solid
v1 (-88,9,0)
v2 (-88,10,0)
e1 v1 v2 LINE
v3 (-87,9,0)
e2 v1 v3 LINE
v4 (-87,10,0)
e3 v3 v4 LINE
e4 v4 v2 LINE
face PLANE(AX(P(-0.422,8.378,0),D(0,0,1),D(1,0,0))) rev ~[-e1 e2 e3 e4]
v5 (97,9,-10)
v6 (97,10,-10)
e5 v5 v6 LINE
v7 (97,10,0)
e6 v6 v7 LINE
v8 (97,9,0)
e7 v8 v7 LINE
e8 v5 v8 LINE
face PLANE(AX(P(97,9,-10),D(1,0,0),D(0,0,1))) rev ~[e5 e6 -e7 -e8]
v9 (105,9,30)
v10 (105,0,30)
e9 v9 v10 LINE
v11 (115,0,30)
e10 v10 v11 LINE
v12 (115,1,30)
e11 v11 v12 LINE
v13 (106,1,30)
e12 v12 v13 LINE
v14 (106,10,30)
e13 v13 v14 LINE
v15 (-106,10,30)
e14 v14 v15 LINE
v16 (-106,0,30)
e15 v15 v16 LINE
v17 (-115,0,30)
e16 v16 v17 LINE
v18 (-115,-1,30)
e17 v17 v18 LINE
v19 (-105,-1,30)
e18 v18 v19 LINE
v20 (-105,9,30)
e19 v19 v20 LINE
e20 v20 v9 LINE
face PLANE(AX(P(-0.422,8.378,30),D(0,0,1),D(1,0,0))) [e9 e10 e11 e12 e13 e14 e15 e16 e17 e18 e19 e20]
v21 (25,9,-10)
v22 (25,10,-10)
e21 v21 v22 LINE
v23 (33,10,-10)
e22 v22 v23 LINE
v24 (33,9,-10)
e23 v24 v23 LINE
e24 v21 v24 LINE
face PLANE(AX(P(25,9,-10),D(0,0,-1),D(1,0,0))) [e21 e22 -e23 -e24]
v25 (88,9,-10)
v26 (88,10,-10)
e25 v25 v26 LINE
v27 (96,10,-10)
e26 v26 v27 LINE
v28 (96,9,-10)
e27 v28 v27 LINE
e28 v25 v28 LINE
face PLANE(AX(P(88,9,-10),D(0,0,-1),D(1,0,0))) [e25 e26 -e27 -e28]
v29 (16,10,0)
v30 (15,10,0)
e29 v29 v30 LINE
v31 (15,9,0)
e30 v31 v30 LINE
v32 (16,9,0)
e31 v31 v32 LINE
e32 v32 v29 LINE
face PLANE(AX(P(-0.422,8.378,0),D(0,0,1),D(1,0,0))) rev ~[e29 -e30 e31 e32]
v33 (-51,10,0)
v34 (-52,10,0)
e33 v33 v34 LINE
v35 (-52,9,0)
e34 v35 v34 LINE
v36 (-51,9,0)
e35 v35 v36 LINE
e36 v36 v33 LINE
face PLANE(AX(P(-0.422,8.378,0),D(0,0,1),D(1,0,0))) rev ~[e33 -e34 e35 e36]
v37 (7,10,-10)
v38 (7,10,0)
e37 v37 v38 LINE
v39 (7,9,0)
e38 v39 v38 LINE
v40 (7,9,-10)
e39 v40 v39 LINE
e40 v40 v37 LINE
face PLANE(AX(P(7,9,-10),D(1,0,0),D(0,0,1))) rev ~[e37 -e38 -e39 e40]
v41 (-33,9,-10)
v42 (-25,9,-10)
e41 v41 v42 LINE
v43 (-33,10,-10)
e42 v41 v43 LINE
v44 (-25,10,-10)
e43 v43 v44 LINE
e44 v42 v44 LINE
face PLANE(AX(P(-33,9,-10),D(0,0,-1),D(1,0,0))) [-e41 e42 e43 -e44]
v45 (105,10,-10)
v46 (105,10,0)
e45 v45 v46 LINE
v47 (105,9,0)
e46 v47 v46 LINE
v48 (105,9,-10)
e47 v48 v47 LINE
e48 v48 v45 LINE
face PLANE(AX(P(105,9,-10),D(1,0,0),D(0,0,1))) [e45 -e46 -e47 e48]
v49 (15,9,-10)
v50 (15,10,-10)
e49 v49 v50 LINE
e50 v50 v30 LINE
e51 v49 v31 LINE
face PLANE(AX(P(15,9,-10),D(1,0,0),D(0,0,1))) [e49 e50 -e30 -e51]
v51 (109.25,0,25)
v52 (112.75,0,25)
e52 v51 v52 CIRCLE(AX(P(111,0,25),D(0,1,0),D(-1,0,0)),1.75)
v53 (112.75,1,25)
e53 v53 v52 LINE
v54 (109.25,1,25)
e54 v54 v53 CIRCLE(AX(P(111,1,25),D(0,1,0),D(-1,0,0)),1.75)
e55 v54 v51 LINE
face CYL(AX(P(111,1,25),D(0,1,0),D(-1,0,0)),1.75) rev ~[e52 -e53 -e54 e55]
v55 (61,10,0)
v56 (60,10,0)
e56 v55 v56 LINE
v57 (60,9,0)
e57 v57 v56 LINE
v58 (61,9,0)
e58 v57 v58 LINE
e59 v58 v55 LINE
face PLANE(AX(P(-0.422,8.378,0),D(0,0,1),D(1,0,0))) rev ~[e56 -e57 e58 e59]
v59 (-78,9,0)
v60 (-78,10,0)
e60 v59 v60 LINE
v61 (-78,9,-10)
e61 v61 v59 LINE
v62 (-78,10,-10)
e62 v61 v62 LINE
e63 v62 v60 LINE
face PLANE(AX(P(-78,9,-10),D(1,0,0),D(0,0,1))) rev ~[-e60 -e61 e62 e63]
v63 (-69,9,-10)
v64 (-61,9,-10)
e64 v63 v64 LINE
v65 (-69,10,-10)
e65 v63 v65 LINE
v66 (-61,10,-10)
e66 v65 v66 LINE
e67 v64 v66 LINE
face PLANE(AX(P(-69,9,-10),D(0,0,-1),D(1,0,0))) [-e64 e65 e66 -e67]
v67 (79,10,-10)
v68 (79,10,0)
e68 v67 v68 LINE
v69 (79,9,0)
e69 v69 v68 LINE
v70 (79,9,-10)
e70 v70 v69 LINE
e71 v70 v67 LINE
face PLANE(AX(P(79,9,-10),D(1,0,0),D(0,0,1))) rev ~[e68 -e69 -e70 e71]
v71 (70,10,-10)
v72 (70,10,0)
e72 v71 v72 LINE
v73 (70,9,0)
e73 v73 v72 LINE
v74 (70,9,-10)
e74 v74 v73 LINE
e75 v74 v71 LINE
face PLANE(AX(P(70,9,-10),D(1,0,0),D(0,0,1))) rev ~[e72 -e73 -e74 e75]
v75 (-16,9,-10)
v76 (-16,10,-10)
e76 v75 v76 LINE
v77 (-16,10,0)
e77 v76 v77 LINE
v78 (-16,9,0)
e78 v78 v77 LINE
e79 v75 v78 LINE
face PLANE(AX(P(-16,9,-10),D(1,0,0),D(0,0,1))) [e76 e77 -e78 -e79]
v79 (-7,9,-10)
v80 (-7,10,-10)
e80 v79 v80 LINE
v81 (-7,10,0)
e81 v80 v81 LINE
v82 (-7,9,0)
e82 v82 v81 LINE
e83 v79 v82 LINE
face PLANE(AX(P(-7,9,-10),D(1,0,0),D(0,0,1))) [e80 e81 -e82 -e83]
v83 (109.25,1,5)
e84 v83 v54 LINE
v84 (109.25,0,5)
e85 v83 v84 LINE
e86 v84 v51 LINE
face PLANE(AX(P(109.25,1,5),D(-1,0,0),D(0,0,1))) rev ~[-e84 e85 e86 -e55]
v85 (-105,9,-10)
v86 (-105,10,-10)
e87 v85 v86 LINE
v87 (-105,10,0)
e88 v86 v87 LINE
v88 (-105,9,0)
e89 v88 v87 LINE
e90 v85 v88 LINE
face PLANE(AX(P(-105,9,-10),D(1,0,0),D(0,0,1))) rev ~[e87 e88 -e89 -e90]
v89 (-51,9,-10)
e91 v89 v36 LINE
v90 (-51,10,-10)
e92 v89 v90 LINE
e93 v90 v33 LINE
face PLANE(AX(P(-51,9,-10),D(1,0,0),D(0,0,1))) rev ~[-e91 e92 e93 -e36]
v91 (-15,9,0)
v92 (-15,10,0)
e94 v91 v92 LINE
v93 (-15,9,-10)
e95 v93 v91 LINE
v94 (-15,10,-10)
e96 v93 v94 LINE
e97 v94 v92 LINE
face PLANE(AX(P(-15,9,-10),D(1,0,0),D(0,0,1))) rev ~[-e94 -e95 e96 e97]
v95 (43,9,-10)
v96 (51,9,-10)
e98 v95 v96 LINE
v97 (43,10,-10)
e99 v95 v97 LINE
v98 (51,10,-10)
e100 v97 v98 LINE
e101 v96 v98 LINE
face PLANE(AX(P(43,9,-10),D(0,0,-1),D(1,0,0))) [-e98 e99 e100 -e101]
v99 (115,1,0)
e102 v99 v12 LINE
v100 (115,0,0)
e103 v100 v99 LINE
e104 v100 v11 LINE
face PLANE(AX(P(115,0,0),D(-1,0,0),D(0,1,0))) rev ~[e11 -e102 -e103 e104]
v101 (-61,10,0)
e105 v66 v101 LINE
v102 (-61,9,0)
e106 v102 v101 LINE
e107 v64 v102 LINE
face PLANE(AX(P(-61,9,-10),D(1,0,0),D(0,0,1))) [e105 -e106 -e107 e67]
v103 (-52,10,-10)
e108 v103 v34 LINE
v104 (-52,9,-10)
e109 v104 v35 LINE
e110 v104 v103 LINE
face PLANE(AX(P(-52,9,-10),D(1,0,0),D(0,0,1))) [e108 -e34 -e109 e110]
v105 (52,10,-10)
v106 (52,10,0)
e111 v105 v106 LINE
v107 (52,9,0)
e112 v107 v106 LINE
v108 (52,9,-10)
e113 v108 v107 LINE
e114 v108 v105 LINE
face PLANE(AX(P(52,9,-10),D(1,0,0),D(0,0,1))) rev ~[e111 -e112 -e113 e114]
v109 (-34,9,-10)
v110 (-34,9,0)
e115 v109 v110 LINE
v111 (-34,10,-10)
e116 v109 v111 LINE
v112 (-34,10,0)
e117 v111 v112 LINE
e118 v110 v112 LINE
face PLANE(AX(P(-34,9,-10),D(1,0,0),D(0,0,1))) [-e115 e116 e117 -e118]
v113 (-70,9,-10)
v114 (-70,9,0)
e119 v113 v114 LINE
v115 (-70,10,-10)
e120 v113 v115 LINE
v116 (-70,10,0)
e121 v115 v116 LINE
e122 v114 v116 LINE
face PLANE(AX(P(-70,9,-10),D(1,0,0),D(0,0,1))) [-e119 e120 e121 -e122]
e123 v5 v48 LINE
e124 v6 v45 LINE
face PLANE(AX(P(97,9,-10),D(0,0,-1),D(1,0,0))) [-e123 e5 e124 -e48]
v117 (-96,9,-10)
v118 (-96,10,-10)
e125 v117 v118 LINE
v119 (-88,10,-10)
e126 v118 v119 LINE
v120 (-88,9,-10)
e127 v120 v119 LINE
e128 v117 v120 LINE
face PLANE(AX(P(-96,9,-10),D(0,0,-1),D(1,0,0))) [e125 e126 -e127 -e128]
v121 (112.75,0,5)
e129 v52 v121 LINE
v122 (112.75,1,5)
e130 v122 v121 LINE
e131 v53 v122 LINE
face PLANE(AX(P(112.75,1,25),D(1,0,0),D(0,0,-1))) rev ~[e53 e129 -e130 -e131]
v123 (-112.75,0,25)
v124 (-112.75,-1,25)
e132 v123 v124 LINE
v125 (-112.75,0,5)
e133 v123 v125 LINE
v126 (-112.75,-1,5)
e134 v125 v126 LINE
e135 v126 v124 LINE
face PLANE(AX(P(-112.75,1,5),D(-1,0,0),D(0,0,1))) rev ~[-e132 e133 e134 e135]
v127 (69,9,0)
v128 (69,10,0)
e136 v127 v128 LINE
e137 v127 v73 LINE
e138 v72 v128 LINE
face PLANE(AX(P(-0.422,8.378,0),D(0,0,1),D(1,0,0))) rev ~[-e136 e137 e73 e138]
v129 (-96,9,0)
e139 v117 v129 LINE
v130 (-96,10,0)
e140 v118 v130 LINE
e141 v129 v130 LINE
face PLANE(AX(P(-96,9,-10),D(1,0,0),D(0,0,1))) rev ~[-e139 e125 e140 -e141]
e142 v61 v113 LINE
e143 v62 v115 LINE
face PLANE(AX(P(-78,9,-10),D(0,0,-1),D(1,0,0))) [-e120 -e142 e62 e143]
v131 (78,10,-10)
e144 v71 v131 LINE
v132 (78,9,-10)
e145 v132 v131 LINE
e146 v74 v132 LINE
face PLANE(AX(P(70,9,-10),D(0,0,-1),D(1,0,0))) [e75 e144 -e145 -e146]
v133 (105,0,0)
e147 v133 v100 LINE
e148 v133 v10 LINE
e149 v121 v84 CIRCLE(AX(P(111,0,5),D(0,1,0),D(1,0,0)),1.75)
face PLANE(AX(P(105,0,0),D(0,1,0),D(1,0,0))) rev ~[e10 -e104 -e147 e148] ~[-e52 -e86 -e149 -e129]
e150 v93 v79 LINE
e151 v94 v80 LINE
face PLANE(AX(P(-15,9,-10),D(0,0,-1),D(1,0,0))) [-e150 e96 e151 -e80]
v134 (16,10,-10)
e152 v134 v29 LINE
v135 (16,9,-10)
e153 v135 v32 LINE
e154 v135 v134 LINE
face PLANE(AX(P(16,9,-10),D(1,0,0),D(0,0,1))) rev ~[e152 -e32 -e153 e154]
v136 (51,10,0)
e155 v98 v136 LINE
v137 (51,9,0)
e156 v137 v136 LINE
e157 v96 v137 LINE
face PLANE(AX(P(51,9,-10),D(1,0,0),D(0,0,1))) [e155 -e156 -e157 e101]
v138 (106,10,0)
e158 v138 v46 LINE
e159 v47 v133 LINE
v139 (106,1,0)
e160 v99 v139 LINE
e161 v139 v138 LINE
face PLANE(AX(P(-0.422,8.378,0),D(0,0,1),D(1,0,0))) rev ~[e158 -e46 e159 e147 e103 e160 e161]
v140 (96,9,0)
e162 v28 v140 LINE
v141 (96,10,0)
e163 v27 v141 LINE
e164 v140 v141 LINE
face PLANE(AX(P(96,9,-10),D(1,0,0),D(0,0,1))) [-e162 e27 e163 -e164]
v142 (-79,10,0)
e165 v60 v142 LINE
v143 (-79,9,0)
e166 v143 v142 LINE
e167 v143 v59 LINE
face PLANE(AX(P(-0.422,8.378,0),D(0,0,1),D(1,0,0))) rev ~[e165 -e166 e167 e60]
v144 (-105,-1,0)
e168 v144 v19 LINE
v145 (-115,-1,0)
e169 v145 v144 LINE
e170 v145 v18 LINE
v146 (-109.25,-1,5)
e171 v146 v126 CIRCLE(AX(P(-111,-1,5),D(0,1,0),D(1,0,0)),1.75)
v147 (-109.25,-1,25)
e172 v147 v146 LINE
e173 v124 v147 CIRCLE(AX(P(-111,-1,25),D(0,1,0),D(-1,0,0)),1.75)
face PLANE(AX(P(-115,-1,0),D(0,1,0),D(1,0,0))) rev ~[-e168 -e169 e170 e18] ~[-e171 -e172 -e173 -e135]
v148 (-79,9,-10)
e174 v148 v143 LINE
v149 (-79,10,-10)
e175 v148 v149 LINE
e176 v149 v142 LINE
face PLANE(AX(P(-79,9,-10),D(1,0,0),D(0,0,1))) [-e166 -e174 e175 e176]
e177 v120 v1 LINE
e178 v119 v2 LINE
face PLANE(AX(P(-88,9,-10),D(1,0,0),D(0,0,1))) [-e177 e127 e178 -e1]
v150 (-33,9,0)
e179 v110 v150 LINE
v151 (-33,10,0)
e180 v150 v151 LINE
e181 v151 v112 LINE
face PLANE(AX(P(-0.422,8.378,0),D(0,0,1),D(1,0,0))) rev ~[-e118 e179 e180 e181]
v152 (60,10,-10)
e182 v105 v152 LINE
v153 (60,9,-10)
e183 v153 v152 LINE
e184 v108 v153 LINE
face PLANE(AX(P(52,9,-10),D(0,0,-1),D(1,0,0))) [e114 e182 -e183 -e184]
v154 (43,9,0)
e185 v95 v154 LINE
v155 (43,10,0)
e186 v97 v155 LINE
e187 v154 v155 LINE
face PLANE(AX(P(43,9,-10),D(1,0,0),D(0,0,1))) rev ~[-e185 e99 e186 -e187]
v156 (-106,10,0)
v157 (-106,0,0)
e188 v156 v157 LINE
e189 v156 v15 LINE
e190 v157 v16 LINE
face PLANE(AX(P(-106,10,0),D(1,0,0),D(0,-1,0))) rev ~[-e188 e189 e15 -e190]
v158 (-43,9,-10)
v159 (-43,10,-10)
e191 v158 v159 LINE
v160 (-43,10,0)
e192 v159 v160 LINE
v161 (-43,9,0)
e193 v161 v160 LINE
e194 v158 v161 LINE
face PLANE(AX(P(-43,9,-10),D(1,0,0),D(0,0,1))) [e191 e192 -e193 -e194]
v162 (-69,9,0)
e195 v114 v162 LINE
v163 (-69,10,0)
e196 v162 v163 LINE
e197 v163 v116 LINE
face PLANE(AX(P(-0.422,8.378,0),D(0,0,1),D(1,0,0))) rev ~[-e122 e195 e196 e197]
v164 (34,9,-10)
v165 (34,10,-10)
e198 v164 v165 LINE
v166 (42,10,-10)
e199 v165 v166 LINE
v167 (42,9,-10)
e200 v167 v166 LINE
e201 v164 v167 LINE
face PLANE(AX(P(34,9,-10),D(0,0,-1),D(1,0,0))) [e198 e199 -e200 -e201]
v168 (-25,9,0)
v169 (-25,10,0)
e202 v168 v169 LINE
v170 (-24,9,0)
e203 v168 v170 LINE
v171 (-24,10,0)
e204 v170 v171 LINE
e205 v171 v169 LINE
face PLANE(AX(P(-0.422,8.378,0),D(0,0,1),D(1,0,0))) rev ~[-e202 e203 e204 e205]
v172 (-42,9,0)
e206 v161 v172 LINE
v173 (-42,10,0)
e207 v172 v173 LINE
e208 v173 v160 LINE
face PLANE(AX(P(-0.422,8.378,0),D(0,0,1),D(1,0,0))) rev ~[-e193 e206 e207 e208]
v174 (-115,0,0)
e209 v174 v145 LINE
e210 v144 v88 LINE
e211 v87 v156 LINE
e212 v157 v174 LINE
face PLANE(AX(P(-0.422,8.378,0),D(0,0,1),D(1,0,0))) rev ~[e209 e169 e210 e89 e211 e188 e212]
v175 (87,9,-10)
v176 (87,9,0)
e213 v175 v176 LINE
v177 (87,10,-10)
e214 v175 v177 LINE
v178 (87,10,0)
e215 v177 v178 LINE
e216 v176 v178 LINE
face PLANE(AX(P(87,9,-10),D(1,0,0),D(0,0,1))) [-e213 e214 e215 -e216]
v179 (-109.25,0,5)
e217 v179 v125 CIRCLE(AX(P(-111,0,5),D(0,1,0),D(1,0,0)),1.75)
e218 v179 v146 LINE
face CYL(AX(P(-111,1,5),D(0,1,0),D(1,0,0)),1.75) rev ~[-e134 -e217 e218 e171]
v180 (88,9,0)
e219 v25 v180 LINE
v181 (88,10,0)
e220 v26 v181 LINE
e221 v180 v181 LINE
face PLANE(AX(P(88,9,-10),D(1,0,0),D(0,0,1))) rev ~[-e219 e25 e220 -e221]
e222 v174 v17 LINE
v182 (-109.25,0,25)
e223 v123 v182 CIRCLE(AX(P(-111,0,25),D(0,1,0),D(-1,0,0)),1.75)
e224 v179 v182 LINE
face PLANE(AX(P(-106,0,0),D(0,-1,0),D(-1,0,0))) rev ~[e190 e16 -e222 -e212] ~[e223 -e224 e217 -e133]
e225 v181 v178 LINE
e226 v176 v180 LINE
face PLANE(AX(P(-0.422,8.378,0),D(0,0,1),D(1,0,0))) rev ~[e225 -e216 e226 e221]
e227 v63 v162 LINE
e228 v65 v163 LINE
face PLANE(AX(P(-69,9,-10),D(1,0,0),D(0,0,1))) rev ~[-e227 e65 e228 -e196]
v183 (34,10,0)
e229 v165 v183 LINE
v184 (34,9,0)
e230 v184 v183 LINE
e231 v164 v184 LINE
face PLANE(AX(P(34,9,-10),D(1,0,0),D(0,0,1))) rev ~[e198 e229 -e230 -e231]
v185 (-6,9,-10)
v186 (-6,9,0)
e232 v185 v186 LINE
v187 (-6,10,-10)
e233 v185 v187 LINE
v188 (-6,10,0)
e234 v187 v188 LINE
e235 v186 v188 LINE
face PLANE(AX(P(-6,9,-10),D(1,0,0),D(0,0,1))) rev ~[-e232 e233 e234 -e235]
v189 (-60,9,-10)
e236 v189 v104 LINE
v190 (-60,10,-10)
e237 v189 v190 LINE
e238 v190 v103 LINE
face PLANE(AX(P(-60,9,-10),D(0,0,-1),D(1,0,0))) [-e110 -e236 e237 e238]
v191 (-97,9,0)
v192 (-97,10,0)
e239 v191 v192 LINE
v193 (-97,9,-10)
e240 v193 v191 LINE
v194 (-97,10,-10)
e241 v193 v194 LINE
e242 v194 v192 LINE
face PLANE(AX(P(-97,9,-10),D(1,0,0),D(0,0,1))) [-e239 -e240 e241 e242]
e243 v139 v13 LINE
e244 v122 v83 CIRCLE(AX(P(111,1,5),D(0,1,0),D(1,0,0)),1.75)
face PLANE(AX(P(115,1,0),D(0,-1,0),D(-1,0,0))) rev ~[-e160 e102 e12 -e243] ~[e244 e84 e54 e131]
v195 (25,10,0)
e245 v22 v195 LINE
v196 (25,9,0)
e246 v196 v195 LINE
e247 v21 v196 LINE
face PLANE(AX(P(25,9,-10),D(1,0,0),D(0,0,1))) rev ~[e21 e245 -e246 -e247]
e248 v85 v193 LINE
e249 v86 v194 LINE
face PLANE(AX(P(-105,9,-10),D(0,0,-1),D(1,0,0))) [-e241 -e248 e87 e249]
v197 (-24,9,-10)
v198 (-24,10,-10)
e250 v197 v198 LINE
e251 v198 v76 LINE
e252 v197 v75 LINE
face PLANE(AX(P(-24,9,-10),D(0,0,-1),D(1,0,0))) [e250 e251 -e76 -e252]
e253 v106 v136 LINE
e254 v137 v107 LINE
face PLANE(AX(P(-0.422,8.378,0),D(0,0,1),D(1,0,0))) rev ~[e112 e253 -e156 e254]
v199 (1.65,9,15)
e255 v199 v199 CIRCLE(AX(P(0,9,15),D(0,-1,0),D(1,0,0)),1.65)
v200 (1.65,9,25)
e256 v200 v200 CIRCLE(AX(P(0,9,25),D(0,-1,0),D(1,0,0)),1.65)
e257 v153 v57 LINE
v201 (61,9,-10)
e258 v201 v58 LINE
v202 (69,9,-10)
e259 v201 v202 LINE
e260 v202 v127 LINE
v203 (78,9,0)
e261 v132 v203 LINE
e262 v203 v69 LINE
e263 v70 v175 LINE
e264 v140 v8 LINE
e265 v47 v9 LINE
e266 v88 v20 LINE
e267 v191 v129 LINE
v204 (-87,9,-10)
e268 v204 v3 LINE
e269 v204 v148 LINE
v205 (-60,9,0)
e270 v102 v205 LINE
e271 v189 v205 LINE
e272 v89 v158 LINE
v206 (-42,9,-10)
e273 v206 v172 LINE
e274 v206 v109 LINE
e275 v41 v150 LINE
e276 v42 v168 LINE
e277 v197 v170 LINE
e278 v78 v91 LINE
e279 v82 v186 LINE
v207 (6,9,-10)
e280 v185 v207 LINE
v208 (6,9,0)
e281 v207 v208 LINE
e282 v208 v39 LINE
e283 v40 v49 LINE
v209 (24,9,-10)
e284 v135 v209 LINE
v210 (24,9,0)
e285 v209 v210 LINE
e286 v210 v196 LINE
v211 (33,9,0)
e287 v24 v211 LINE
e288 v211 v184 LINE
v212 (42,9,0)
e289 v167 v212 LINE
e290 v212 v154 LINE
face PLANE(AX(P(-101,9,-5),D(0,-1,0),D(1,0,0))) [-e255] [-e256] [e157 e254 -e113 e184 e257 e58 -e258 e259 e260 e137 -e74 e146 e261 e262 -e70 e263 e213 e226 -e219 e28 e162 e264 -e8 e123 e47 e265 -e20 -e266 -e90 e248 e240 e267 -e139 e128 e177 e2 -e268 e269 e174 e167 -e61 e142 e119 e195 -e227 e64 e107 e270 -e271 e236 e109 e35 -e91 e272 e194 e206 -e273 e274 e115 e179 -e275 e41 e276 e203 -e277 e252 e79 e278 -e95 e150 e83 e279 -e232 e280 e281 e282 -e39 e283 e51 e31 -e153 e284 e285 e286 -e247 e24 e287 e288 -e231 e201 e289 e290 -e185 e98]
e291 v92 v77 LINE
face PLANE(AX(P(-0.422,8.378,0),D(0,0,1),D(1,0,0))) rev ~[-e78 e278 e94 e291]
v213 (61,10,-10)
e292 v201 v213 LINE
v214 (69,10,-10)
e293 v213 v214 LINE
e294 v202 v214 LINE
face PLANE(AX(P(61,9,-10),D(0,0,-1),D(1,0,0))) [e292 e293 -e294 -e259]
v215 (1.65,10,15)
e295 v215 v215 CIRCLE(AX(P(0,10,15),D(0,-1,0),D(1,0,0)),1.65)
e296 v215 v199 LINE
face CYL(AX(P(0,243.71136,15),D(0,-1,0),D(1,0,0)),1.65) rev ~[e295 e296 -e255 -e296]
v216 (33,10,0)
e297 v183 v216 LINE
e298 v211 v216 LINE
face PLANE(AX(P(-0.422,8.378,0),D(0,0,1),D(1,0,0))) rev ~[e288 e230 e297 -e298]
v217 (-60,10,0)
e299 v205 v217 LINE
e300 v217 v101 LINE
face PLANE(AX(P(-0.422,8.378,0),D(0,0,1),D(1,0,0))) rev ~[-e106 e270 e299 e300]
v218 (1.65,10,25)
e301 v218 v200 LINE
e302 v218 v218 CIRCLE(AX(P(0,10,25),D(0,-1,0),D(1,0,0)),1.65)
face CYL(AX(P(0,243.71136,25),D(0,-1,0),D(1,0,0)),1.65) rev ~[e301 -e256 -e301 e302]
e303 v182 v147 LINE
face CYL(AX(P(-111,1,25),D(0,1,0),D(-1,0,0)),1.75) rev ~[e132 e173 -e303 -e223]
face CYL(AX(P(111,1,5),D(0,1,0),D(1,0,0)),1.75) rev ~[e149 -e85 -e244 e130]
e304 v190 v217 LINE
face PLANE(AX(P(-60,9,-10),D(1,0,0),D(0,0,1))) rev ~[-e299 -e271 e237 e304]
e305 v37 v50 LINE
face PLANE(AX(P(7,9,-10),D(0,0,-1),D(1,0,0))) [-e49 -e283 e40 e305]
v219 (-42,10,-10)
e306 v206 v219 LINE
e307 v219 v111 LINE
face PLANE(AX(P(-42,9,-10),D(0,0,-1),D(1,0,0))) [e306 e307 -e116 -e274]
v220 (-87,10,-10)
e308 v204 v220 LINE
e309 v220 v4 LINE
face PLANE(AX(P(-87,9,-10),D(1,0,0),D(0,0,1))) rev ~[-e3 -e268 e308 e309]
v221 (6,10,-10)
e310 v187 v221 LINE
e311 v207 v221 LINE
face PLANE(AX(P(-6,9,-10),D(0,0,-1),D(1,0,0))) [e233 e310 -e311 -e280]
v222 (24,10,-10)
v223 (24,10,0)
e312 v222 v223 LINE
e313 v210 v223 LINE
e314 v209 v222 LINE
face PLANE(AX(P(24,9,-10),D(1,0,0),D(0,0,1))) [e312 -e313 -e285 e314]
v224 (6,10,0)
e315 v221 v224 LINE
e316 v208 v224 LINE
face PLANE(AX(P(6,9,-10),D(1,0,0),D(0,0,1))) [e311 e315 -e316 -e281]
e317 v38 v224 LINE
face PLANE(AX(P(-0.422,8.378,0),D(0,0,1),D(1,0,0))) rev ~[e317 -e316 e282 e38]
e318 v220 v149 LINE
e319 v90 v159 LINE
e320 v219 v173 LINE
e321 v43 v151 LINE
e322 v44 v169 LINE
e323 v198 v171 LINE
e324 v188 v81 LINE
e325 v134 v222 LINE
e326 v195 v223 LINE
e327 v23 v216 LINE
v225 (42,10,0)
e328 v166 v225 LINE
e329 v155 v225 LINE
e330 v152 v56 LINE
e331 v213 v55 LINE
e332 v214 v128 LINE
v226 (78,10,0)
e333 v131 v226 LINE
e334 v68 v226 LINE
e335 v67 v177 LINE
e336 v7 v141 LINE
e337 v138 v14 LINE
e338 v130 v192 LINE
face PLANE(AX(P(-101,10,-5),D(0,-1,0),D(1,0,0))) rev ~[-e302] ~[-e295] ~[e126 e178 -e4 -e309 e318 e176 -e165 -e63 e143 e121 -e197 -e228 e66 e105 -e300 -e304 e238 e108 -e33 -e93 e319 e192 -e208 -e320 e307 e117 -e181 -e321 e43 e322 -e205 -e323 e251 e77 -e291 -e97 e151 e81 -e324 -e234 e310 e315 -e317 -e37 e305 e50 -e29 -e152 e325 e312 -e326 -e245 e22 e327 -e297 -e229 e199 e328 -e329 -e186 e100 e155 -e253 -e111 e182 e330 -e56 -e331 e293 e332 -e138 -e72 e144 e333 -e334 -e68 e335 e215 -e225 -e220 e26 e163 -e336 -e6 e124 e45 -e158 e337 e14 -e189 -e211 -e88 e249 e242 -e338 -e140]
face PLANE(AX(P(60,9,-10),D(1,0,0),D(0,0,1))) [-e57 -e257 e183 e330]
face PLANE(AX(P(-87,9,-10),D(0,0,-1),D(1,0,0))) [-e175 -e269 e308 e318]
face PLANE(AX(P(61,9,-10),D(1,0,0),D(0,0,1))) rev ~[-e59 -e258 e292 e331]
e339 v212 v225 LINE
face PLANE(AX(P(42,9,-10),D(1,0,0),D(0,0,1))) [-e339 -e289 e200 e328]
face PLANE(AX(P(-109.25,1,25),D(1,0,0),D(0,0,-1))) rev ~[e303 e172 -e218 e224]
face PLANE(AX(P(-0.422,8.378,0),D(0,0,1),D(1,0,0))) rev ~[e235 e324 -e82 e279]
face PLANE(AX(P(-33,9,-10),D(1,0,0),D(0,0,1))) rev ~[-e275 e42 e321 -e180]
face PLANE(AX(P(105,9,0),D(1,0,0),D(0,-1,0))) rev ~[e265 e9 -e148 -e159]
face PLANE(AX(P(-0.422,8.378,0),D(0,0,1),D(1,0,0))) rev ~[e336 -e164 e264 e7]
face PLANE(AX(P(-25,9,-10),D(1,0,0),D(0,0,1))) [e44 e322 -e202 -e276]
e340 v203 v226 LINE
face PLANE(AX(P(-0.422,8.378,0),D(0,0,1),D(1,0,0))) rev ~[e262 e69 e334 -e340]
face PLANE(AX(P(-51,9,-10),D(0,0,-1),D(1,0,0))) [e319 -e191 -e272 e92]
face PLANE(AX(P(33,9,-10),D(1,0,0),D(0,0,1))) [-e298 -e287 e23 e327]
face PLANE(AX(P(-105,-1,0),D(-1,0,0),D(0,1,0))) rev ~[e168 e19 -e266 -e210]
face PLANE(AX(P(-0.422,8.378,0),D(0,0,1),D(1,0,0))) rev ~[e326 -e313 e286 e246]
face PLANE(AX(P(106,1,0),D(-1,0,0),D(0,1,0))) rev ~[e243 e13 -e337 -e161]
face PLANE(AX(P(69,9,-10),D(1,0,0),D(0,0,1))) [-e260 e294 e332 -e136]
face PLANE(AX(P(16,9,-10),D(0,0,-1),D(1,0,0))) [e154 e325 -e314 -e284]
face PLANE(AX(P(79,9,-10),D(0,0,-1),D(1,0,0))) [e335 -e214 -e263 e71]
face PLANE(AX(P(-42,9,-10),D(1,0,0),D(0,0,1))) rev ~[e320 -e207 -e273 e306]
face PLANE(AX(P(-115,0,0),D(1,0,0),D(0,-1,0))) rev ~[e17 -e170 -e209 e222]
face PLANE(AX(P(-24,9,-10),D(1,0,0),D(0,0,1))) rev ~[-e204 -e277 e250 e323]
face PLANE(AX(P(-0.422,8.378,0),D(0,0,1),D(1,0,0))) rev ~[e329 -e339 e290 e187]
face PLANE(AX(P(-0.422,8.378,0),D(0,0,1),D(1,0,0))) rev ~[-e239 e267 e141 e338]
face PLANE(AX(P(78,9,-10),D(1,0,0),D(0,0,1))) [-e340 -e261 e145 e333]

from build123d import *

# Parameters (mm, degrees)
F1_DEPTH = 30
F3_DEPTH = 25
F4_W     = 8
F4_H     = 10
F4_W_2   = 12
F5_DEPTH = 1
F7_D     = 3.3


with BuildPart() as f1:
    # F0 (on Top) → F1 (new body)
    with BuildSketch(Plane.XY):
        Polygon((-115, 0), (-115, -1), (-105, -1), (-105, 9), (105, 9), (105, 0), (115, 0), (115, 1), (106, 1), (106, 10), (-106, 10), (-106, 0), align=None)
    extrude(amount=F1_DEPTH)

    # F2 (on face) → F3 (cut)
    with BuildSketch(Plane(origin=(0, 1, 0), x_dir=(-1, 0, 0), z_dir=(0, 1, 0))):
        with BuildLine():
            Line((-109.25, 5), (-109.25, 25))
            ThreePointArc((-109.25, 25), (-111, 26.75), (-112.75, 25))
            Line((-112.75, 25), (-112.75, 5))
            ThreePointArc((-112.75, 5), (-111, 3.25), (-109.25, 5))
        make_face()
        with BuildLine():
            Line((109.25, 25), (109.25, 5))
            ThreePointArc((109.25, 5), (111, 3.25), (112.75, 5))
            Line((112.75, 5), (112.75, 25))
            ThreePointArc((112.75, 25), (111, 26.75), (109.25, 25))
        make_face()
    extrude(amount=-F3_DEPTH, mode=Mode.SUBTRACT)

    # F4 (on face) → F5 (join)
    with BuildSketch(Plane.XZ.offset(-9)):
        with Locations((-101, -5)):
            Rectangle(F4_W, F4_H)
        with Locations((-92, -5)):
            Rectangle(F4_W, F4_H)
        with Locations((-83, -5)):
            Rectangle(F4_W, F4_H)
        with Locations((-74, -5)):
            Rectangle(F4_W, F4_H)
        with Locations((-65, -5)):
            Rectangle(F4_W, F4_H)
        with Locations((-56, -5)):
            Rectangle(F4_W, F4_H)
        with Locations((-47, -5)):
            Rectangle(F4_W, F4_H)
        with Locations((-38, -5)):
            Rectangle(F4_W, F4_H)
        with Locations((-29, -5)):
            Rectangle(F4_W, F4_H)
        with Locations((-20, -5)):
            Rectangle(F4_W, F4_H)
        with Locations((-11, -5)):
            Rectangle(F4_W, F4_H)
        with Locations((101, -5)):
            Rectangle(F4_W, F4_H)
        with Locations((92, -5)):
            Rectangle(F4_W, F4_H)
        with Locations((83, -5)):
            Rectangle(F4_W, F4_H)
        with Locations((74, -5)):
            Rectangle(F4_W, F4_H)
        with Locations((65, -5)):
            Rectangle(F4_W, F4_H)
        with Locations((56, -5)):
            Rectangle(F4_W, F4_H)
        with Locations((47, -5)):
            Rectangle(F4_W, F4_H)
        with Locations((38, -5)):
            Rectangle(F4_W, F4_H)
        with Locations((29, -5)):
            Rectangle(F4_W, F4_H)
        with Locations((20, -5)):
            Rectangle(F4_W, F4_H)
        with Locations((11, -5)):
            Rectangle(F4_W, F4_H)
        with Locations((0, -5)):
            Rectangle(F4_W_2, F4_H)
    extrude(amount=-F5_DEPTH)

    # F7 (through all)
    with Locations(Plane(origin=(0, 10, 0), x_dir=(-1, 0, 0), z_dir=(0, 1, 0))):
        with Locations((0, 15), (0, 25)):
            Hole(F7_D / 2)


solid = f1.part
